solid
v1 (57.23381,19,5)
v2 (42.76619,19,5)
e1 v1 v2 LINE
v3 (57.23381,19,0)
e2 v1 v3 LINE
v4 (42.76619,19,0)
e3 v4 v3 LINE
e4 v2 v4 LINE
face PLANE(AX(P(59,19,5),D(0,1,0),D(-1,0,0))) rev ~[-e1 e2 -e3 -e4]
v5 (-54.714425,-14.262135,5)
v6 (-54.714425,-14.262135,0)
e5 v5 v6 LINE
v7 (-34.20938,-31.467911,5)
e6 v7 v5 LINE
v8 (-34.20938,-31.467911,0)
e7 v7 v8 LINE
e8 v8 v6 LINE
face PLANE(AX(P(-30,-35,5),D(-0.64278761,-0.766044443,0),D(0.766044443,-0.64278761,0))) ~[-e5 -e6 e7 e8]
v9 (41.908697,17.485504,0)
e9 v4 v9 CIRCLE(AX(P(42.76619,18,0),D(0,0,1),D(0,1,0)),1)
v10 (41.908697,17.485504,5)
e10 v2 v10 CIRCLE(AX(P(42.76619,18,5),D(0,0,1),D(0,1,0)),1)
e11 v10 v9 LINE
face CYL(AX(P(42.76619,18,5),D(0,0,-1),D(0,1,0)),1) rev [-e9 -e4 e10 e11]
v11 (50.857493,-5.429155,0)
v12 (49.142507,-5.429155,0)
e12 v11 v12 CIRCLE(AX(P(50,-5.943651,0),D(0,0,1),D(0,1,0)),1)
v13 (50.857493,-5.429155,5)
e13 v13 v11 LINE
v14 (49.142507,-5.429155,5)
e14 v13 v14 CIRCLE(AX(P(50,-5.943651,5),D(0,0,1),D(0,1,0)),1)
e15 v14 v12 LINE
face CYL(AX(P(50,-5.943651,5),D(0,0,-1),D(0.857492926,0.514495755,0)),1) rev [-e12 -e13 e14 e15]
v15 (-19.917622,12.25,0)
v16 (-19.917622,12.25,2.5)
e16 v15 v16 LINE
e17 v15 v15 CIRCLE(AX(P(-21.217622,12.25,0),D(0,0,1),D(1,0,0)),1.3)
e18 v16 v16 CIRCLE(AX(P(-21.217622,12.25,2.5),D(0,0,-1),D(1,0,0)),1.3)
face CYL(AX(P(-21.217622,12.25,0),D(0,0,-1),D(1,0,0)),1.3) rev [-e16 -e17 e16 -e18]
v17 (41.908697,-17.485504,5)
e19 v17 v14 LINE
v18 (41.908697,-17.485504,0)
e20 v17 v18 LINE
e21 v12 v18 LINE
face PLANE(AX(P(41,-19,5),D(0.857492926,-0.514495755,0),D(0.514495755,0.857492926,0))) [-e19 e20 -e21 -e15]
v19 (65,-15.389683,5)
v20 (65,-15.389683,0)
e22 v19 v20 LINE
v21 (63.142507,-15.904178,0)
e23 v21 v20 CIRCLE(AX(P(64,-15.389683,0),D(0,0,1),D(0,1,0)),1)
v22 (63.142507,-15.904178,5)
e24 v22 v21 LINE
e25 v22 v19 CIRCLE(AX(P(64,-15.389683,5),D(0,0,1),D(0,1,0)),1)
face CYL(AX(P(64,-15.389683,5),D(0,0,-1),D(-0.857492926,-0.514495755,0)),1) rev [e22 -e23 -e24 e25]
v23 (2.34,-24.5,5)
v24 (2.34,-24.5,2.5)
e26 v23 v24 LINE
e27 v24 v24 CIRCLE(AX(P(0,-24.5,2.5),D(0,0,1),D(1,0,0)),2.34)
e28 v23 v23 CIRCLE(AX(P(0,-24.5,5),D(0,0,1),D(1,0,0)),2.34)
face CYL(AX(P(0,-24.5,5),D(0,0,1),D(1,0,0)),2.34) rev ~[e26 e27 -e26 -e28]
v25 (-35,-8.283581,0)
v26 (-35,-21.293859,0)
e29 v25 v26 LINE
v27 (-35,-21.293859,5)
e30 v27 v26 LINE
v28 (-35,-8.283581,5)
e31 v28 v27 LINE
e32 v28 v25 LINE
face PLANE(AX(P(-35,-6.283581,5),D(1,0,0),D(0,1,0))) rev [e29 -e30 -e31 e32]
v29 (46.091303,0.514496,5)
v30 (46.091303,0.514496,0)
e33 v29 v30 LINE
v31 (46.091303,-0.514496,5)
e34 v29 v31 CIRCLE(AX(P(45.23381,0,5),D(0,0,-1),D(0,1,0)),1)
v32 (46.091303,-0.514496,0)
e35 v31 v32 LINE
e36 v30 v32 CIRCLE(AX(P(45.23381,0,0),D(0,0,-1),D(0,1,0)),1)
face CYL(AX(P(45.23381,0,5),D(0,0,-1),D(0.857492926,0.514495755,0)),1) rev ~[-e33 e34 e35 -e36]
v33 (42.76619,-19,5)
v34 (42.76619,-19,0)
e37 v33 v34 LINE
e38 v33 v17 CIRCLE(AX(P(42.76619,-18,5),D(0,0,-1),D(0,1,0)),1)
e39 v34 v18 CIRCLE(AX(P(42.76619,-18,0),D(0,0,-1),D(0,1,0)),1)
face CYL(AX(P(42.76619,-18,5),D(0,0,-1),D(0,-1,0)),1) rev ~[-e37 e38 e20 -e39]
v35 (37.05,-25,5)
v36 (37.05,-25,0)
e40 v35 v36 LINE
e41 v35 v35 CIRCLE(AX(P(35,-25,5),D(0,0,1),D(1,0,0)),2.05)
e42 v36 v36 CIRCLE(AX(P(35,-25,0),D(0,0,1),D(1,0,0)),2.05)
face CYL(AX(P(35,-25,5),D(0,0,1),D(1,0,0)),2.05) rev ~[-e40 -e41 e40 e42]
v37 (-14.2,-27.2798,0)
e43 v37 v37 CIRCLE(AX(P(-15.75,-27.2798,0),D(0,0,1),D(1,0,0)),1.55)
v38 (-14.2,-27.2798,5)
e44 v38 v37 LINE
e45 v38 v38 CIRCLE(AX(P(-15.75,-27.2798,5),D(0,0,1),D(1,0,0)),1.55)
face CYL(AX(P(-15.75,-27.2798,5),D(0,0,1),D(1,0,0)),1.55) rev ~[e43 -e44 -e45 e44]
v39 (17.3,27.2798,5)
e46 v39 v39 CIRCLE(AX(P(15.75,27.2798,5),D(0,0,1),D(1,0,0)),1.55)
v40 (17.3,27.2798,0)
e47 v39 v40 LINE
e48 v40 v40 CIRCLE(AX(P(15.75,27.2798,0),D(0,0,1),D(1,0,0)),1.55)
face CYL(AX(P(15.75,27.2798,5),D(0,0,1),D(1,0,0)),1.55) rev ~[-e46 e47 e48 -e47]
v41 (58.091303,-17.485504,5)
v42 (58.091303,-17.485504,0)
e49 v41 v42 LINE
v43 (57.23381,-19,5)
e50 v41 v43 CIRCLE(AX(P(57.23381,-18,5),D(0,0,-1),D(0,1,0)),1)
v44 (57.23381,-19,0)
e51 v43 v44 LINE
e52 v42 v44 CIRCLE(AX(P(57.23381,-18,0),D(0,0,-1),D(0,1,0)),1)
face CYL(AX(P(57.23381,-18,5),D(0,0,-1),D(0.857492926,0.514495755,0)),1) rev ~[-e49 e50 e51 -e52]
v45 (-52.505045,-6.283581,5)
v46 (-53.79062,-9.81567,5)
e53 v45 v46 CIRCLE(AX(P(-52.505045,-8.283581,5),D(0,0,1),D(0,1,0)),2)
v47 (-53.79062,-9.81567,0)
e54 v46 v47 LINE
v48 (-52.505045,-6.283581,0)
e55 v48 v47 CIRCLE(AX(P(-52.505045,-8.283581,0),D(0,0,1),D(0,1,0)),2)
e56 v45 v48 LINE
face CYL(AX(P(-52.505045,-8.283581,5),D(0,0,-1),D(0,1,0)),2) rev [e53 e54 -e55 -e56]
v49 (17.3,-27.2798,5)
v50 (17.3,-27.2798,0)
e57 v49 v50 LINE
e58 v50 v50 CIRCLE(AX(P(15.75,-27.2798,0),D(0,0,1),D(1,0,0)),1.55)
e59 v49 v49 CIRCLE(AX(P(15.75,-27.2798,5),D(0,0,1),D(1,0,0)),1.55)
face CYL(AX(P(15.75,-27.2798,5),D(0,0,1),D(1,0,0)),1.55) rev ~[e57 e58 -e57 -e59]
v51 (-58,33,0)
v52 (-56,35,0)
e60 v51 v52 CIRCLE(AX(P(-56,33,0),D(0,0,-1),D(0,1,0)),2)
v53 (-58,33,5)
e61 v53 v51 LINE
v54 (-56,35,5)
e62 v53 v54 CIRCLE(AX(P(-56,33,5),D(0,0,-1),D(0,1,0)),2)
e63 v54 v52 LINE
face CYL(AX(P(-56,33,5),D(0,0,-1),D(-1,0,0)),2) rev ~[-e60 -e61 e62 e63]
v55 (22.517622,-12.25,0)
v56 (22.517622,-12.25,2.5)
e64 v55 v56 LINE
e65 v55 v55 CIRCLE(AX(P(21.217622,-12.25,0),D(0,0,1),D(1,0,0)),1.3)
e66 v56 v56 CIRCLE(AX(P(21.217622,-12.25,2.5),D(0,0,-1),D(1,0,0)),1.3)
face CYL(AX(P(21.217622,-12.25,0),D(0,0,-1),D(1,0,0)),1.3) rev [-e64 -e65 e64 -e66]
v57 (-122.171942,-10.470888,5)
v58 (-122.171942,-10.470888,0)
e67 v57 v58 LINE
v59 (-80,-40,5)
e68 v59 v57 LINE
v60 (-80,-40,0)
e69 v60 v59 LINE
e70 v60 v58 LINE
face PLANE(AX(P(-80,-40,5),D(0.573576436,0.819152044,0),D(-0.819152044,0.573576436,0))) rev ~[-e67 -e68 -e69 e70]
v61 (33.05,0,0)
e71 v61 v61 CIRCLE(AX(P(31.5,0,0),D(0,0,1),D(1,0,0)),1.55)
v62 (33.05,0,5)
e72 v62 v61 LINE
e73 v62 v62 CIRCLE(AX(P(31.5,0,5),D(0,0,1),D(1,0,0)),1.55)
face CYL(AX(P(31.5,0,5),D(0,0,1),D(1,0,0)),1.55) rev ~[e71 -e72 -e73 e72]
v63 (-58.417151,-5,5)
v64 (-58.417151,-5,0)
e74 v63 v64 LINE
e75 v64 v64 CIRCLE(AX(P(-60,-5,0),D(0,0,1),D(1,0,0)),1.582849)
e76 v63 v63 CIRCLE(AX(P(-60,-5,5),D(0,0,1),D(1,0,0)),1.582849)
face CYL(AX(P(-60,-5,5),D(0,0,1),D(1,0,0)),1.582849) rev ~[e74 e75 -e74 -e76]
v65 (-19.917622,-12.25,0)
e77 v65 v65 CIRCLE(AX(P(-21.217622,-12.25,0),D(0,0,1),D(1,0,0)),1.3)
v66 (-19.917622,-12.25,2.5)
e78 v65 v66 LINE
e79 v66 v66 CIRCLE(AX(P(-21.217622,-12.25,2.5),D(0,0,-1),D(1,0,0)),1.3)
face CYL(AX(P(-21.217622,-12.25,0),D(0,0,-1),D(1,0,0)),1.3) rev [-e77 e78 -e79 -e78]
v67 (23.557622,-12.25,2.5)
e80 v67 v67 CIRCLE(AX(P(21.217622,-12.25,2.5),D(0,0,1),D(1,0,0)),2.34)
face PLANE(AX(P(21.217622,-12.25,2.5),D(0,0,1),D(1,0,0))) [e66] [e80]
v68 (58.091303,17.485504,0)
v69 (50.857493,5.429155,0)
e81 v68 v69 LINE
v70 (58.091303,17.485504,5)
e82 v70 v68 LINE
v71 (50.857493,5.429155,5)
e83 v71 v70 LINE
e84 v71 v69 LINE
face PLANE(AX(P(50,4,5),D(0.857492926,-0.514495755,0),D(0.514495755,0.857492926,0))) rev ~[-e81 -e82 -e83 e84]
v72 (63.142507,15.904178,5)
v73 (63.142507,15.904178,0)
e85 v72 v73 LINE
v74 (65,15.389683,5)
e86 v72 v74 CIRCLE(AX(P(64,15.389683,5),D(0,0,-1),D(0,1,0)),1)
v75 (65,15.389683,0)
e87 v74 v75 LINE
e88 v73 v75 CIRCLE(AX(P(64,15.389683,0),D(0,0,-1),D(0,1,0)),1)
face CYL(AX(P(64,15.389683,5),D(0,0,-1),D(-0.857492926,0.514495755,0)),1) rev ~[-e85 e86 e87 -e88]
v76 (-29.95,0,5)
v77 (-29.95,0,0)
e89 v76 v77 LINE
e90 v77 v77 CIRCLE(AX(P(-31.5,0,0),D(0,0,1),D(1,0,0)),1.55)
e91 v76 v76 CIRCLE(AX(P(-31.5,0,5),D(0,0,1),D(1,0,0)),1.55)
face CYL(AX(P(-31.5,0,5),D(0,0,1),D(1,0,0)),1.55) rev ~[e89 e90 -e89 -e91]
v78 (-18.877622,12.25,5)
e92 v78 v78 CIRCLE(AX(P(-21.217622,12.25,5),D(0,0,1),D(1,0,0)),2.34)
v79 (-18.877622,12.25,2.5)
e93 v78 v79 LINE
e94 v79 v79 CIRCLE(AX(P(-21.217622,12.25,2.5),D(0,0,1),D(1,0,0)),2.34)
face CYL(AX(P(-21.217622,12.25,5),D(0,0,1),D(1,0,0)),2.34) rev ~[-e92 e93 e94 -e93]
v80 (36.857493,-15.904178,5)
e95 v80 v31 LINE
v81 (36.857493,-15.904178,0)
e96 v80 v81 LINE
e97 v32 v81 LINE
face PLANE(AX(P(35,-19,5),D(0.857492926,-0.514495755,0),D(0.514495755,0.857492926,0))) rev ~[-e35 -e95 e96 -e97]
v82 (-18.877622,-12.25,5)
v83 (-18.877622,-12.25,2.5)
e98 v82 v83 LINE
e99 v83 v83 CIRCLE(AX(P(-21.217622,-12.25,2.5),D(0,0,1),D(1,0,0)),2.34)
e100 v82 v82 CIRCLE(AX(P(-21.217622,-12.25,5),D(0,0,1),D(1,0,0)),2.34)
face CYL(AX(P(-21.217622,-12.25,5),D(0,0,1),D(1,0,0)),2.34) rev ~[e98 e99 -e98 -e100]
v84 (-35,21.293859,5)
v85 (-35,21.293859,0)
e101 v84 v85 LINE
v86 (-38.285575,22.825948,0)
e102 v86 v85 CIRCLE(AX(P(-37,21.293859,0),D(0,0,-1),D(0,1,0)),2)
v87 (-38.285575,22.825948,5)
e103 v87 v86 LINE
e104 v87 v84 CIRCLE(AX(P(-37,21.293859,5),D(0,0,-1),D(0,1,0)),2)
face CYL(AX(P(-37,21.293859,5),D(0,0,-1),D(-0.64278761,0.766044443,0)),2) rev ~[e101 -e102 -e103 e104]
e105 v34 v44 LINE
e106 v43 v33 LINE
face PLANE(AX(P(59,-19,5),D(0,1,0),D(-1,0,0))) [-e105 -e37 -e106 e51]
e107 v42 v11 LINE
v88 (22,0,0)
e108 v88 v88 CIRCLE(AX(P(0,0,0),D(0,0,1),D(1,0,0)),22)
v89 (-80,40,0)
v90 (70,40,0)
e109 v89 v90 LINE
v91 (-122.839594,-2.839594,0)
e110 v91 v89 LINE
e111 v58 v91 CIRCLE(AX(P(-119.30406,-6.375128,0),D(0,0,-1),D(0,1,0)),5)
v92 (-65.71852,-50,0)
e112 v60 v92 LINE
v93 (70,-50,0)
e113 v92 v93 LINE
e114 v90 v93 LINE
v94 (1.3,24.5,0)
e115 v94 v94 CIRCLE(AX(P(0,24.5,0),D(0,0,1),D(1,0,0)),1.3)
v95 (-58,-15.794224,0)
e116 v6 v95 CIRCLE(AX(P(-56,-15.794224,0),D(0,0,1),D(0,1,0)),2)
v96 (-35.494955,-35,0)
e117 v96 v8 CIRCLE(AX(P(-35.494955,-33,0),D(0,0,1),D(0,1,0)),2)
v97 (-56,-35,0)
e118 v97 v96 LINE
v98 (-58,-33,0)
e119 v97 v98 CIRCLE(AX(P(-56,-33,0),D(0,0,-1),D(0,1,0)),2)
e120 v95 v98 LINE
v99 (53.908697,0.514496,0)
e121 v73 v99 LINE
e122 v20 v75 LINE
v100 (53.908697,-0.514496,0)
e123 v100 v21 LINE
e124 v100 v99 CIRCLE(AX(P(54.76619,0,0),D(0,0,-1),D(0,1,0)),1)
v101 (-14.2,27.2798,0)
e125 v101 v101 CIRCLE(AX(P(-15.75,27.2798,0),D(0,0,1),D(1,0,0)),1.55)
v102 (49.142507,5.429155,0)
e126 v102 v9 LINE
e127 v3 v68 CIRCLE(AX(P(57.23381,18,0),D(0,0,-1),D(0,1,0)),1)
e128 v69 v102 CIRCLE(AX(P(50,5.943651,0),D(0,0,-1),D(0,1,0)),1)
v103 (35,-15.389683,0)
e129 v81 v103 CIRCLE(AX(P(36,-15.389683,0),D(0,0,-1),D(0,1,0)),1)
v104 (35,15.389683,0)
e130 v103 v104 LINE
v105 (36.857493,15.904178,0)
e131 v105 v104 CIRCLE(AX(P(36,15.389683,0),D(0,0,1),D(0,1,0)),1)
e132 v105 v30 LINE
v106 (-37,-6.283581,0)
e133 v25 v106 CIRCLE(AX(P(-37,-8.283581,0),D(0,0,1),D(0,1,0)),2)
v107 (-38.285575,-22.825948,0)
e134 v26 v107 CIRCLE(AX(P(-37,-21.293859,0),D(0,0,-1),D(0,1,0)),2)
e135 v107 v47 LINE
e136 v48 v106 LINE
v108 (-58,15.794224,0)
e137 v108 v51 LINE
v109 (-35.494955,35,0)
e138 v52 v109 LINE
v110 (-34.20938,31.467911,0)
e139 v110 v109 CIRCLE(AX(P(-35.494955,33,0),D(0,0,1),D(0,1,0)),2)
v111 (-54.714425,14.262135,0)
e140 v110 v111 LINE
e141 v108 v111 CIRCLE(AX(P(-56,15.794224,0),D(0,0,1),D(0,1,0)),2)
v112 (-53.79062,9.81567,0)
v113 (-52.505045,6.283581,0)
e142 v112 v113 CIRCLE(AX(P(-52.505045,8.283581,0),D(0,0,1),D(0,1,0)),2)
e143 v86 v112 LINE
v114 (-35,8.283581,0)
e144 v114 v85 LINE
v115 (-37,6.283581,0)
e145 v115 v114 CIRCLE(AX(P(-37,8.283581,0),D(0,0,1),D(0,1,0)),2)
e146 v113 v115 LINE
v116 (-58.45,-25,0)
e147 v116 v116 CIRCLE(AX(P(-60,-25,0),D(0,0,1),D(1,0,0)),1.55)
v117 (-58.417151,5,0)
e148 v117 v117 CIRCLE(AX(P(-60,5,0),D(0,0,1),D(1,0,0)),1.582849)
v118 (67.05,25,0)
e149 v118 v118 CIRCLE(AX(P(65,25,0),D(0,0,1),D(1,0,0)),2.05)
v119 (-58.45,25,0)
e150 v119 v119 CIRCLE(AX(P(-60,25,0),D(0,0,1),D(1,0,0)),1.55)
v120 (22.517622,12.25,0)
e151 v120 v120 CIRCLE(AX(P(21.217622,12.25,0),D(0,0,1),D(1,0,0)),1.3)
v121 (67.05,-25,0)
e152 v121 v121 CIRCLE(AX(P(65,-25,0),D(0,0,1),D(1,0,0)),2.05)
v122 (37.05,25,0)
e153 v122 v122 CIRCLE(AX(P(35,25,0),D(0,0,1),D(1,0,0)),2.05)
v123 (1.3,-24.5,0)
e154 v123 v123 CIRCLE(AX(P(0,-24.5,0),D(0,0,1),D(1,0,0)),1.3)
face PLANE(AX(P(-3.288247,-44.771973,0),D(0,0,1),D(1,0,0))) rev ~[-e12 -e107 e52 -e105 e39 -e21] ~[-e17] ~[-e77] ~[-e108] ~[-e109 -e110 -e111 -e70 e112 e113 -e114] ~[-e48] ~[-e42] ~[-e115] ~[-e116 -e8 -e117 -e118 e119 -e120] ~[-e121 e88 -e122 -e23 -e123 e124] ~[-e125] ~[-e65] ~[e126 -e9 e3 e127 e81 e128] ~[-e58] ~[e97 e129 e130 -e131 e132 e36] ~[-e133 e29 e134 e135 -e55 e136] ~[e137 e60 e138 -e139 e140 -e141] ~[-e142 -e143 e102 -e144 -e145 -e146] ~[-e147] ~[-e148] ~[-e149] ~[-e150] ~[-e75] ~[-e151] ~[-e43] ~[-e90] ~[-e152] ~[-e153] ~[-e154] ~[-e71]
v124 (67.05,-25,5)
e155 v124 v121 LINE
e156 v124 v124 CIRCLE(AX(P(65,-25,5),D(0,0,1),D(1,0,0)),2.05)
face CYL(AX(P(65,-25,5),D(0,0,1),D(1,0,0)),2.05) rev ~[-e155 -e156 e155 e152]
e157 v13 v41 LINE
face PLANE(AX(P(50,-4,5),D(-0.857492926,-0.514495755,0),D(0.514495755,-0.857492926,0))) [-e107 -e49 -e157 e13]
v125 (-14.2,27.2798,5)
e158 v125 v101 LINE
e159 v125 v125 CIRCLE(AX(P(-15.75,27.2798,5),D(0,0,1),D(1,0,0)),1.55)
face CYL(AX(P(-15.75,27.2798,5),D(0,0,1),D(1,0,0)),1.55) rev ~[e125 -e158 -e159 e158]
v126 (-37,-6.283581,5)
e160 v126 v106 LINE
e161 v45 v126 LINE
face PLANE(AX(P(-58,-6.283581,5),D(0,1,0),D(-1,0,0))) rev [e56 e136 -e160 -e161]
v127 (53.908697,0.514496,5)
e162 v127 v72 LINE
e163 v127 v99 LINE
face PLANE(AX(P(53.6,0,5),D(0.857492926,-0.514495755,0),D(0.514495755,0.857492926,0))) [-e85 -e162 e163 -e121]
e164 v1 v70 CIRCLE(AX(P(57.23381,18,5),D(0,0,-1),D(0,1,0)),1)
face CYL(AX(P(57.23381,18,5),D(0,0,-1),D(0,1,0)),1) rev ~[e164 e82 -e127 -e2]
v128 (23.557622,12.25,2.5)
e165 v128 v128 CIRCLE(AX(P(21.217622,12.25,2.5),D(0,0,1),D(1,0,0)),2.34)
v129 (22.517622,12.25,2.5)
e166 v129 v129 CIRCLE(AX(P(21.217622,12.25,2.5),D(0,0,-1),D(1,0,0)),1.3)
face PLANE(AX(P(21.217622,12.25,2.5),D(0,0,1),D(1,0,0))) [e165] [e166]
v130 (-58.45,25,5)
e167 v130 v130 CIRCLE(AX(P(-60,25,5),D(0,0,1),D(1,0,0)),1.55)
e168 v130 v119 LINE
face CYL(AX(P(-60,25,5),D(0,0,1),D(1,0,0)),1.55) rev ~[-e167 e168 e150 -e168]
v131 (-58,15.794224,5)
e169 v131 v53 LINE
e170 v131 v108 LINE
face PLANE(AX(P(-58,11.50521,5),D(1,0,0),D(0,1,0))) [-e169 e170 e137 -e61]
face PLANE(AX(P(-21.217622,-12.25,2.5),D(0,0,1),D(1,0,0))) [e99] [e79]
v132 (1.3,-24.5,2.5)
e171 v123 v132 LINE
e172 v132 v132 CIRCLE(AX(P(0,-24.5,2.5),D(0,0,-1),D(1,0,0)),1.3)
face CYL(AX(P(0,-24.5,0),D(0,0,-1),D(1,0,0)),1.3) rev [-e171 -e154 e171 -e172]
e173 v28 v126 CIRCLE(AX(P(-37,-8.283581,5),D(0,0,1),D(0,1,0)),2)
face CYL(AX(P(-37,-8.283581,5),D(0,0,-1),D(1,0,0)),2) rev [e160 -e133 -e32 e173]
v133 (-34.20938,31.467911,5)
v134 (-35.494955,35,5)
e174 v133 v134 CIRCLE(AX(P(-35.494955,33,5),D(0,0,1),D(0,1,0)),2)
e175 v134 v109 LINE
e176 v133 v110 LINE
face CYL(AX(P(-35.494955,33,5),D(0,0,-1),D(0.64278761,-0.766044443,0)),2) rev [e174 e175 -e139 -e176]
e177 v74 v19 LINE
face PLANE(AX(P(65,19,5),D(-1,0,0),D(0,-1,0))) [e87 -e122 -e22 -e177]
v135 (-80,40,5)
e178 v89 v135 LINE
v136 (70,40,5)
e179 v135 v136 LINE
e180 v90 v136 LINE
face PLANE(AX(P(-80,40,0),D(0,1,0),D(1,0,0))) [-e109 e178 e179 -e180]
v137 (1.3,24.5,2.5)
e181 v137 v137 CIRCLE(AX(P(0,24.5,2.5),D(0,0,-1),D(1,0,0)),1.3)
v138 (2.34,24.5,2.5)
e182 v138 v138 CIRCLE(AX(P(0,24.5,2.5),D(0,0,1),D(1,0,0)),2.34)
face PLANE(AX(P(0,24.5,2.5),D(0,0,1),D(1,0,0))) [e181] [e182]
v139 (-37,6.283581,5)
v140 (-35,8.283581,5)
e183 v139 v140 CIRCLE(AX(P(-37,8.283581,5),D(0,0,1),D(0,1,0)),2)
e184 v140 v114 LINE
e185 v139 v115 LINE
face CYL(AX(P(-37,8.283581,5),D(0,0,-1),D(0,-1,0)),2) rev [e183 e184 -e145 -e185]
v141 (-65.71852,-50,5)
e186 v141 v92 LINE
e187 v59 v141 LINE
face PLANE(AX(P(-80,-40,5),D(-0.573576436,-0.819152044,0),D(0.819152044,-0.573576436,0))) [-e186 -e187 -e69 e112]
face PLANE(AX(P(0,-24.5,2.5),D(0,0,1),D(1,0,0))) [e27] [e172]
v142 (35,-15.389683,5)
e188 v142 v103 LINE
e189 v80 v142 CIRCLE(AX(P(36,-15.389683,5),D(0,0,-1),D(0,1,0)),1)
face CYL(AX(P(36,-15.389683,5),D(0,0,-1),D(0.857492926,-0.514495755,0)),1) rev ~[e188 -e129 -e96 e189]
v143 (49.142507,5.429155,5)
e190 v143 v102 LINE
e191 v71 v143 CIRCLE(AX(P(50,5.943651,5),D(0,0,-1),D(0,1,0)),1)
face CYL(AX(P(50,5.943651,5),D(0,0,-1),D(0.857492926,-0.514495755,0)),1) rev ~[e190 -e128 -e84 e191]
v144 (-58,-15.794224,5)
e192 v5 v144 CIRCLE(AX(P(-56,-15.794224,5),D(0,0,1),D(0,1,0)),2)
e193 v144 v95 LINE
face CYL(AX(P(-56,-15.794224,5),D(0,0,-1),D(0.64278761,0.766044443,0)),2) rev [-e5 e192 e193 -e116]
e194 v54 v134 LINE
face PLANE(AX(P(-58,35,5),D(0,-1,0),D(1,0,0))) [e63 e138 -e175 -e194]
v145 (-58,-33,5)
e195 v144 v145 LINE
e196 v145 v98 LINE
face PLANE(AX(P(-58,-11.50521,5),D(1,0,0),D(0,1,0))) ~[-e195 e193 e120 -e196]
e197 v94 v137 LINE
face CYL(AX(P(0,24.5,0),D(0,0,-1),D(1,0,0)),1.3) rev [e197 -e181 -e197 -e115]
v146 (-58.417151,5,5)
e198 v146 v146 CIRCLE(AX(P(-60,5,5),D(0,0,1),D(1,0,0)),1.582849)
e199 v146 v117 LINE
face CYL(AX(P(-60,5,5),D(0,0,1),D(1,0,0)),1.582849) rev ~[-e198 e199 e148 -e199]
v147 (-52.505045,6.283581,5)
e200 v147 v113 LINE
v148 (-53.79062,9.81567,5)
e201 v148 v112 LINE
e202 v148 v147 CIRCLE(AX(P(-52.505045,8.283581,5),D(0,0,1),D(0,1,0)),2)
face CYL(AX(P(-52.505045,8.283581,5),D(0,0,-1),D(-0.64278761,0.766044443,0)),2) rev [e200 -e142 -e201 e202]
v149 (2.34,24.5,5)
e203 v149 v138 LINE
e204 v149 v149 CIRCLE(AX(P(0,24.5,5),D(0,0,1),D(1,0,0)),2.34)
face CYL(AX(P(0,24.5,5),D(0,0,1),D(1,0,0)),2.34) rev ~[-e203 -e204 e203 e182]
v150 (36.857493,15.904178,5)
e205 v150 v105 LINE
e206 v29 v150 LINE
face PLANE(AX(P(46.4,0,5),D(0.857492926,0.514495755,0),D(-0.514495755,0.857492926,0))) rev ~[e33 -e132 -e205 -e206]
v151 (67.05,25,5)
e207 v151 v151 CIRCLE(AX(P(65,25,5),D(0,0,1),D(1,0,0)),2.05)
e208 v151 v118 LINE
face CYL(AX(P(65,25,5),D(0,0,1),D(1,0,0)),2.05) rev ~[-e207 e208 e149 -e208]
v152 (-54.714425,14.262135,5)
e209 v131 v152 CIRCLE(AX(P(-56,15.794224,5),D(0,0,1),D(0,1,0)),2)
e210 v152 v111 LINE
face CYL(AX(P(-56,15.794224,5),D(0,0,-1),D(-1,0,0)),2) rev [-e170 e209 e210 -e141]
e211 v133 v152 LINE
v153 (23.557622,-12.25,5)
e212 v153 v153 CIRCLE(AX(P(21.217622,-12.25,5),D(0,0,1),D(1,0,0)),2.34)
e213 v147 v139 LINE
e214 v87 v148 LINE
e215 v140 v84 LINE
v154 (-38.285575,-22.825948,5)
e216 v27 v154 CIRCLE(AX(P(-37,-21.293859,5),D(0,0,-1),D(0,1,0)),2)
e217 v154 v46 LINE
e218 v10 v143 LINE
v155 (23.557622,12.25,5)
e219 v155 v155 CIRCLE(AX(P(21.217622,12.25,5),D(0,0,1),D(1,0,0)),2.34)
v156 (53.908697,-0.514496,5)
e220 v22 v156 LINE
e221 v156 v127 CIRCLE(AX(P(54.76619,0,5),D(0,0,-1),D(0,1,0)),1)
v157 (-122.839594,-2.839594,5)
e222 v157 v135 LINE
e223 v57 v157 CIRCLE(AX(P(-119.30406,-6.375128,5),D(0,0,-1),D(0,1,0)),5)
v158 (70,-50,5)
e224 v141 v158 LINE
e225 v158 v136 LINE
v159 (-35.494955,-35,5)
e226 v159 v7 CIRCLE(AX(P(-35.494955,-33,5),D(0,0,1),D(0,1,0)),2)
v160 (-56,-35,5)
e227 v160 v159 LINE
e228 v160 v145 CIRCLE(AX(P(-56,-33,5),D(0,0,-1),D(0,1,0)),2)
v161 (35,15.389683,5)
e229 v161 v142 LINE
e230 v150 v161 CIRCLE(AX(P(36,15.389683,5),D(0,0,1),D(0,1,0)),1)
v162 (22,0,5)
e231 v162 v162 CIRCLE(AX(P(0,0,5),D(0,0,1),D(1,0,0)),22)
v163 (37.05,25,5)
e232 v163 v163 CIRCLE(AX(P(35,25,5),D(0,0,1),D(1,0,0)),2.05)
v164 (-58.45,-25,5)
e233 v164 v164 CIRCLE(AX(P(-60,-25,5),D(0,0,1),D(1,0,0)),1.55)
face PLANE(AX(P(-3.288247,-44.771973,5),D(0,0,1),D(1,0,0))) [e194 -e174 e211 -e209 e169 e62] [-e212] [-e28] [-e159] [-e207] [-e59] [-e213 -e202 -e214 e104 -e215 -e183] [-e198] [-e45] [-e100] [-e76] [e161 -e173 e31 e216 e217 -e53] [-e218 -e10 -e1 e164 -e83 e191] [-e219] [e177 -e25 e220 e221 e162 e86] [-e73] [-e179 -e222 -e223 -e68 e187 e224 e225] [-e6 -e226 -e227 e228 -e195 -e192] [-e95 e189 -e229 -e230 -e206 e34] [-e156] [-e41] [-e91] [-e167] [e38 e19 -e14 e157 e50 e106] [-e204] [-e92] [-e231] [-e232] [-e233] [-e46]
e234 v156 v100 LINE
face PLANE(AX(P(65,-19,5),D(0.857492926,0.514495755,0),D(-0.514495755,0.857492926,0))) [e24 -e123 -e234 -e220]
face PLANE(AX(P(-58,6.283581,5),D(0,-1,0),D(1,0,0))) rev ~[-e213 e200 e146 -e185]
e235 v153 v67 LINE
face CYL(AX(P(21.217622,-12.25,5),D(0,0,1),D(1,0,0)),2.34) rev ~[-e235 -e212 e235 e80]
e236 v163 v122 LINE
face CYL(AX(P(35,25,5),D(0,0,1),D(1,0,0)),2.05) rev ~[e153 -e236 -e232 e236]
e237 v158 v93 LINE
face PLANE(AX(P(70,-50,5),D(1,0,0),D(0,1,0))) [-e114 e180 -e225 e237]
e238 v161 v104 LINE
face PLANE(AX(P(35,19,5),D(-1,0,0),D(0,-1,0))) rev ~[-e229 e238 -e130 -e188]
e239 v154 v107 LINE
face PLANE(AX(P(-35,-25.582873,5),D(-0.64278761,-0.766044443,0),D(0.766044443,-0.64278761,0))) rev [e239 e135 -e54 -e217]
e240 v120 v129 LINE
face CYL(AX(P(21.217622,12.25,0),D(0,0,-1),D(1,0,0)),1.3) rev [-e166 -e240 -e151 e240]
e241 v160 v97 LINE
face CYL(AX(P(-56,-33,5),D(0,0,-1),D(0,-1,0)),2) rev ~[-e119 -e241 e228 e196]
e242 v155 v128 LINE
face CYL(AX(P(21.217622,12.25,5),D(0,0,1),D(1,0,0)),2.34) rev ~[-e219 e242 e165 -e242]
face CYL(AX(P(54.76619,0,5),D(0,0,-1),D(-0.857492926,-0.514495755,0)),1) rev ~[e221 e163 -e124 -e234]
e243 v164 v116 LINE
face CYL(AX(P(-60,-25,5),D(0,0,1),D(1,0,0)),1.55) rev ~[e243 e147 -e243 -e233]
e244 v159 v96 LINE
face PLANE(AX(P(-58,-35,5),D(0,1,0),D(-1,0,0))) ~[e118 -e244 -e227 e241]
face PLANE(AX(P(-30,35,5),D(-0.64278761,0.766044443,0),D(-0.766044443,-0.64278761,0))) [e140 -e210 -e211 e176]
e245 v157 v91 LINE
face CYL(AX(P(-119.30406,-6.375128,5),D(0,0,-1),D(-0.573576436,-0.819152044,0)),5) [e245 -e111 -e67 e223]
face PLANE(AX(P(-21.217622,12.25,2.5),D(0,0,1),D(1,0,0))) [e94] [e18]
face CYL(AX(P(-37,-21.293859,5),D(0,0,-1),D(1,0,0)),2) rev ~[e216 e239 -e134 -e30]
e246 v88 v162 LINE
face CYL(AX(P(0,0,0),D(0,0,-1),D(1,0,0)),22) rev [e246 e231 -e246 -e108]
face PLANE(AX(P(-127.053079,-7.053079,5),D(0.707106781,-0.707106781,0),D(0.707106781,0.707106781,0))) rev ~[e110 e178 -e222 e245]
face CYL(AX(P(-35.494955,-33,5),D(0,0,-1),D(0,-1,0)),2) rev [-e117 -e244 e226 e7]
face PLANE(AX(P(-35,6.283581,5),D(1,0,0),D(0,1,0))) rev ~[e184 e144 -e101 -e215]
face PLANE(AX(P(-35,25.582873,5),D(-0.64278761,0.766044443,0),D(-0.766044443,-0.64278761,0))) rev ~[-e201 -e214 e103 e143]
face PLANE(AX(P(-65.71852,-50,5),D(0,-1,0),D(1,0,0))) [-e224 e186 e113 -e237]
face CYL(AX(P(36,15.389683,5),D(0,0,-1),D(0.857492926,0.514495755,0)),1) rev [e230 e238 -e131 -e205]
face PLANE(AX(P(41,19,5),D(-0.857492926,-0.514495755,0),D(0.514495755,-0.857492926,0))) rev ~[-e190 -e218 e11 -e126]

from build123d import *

# Parameters (mm, degrees)
SKETCH_1_W             = 150
SKETCH_1_H             = 80
SKETCH_1_R             = 1.3
SKETCH_1_R_2           = 22
EXTRUDE_1_DEPTH        = 5
SKETCH_2_R             = 2.34
CUT_EXTRUDE_1_DEPTH    = 2.5
SKETCH_3_R             = 1.55
SKETCH_3_R_2           = 1.582849294
CUT_EXTRUDE_3_DEPTH    = 12.5
CUT_EXTRUDE_5_DEPTH    = 8
FILLET_3_R             = 2
FILLET_3_OF_MIRROR_2_R = 2
EXTRUDE_4_DEPTH        = 5
FILLET_5_R             = 5
SKETCH_11_R            = 1.55
CUT_EXTRUDE_7_DEPTH    = 25
SKETCH_12_R            = 2.05
CUT_EXTRUDE_8_DEPTH    = 10
CUT_EXTRUDE_9_DEPTH    = 10
FILLET_6_R             = 1
EXTRUDE_5_DEPTH        = 5


with BuildPart() as part:
    # 草图1 → 凸台-拉伸1 (new body)
    with BuildSketch(Plane.XY):
        with Locations((-5, 0)):
            Rectangle(SKETCH_1_W, SKETCH_1_H)
        with Locations((0, -24.5)):
            Circle(SKETCH_1_R, mode=Mode.SUBTRACT)
        with Locations((-21.217622393, -12.25)):
            Circle(SKETCH_1_R, mode=Mode.SUBTRACT)
        with Locations((-21.217622393, 12.25)):
            Circle(SKETCH_1_R, mode=Mode.SUBTRACT)
        Circle(SKETCH_1_R_2, mode=Mode.SUBTRACT)
        with Locations((0, 24.5)):
            Circle(SKETCH_1_R, mode=Mode.SUBTRACT)
        with Locations((21.217622393, 12.25)):
            Circle(SKETCH_1_R, mode=Mode.SUBTRACT)
        with Locations((21.217622393, -12.25)):
            Circle(SKETCH_1_R, mode=Mode.SUBTRACT)
    extrude(amount=EXTRUDE_1_DEPTH)

    # 草图2 → 切除-拉伸1 (cut)
    with BuildSketch(Plane.XY.offset(5)):
        with Locations((-21.217622393, 12.25)):
            Circle(SKETCH_2_R)
        with Locations((0, 24.5)):
            Circle(SKETCH_2_R)
        with Locations((21.217622393, 12.25)):
            Circle(SKETCH_2_R)
        with Locations((21.217622393, -12.25)):
            Circle(SKETCH_2_R)
        with Locations((0, -24.5)):
            Circle(SKETCH_2_R)
        with Locations((-21.217622393, -12.25)):
            Circle(SKETCH_2_R)
    extrude(amount=-CUT_EXTRUDE_1_DEPTH, mode=Mode.SUBTRACT)

    # 草图3 → 切除-拉伸3 (cut)
    with BuildSketch(Plane.XY.offset(5)):
        with Locations((-60, -25)):
            Circle(SKETCH_3_R)
        with Locations((-60, -5)):
            Circle(SKETCH_3_R_2)
        with Locations((-60, 25)):
            Circle(SKETCH_3_R)
        with Locations((-60, 5)):
            Circle(SKETCH_3_R_2)
    extrude(amount=-CUT_EXTRUDE_3_DEPTH, mode=Mode.SUBTRACT)

    # 草图4 → 切除-拉伸5 (cut)
    with BuildSketch(Plane.XY.offset(5)):
        Polygon((-58, 35), (-30, 35), (-58, 11.505210327), align=None)
        Polygon((-35, 25.582872687), (-58, 6.28358117), (-35, 6.28358117), align=None)
    cut_extrude_5 = extrude(amount=-CUT_EXTRUDE_5_DEPTH, mode=Mode.SUBTRACT)

    # 圆角3
    fillet_3_edges = [part.edges().sort_by_distance(p)[0] for p in [
        (-35, 6.28358117, 2.5),
        (-58, 6.28358117, 2.5),
        (-35, 25.582872687, 2.5),
        (-30, 35, 2.5),
        (-58, 11.505210327, 2.5),
        (-58, 35, 2.5),
    ]]
    fillet(fillet_3_edges, radius=FILLET_3_R)

    # 镜向2: 切除-拉伸5 across plane
    add(cut_extrude_5.mirror(Plane.ZX), mode=Mode.SUBTRACT)

    # 圆角3 of 镜向2
    fillet_3_of_mirror_2_edges = [part.edges().sort_by_distance(p)[0] for p in [
        (-35, -6.28358117, 2.5),
        (-58, -6.28358117, 2.5),
        (-35, -25.582872687, 2.5),
        (-30, -35, 2.5),
        (-58, -11.505210327, 2.5),
        (-58, -35, 2.5),
    ]]
    fillet(fillet_3_of_mirror_2_edges, radius=FILLET_3_OF_MIRROR_2_R)

    # 草图10 → 凸台-拉伸4 (add)
    with BuildSketch(Plane.XY.offset(5)):
        Polygon((-80, -40), (-127.053079228, -7.053079228), (-80, 40), align=None)
    extrude(amount=-EXTRUDE_4_DEPTH)

    # 圆角5
    fillet_5_edges = [part.edges().sort_by_distance(p)[0] for p in [
        (-127.053079228, -7.053079228, 2.5),
    ]]
    fillet(fillet_5_edges, radius=FILLET_5_R)

    # 草图11 → 切除-拉伸7 (cut)
    with BuildSketch(Plane.XY.offset(5)):
        with Locations((-15.75, 27.279800219)):
            Circle(SKETCH_11_R)
        with Locations((15.75, 27.279800219)):
            Circle(SKETCH_11_R)
        with Locations((31.5, 0)):
            Circle(SKETCH_11_R)
        with Locations((15.75, -27.279800219)):
            Circle(SKETCH_11_R)
        with Locations((-15.75, -27.279800219)):
            Circle(SKETCH_11_R)
        with Locations((-31.5, 0)):
            Circle(SKETCH_11_R)
    extrude(amount=-CUT_EXTRUDE_7_DEPTH, mode=Mode.SUBTRACT)

    # 草图12 → 切除-拉伸8 (cut)
    with BuildSketch(Plane.XY.offset(5)):
        with Locations((35, 25)):
            Circle(SKETCH_12_R)
        with Locations((65, 25)):
            Circle(SKETCH_12_R)
        with Locations((65, -25)):
            Circle(SKETCH_12_R)
        with Locations((35, -25)):
            Circle(SKETCH_12_R)
    extrude(amount=-CUT_EXTRUDE_8_DEPTH, mode=Mode.SUBTRACT)

    # 草图13 → 切除-拉伸9 (cut)
    with BuildSketch(Plane.XY.offset(5)):
        Polygon((35, 19), (35, -19), (46.4, 0), align=None)
        Polygon((65, -19), (53.6, 0), (65, 19), align=None)
        Polygon((41, 19), (50, 4), (59, 19), align=None)
        Polygon((50, -4), (59, -19), (41, -19), align=None)
    extrude(amount=-CUT_EXTRUDE_9_DEPTH, mode=Mode.SUBTRACT)

    # 圆角6
    fillet_6_edges = [part.edges().sort_by_distance(p)[0] for p in [
        (41, 19, 2.5),
        (59, 19, 2.5),
        (50, 4, 2.5),
        (65, 19, 2.5),
        (65, -19, 2.5),
        (53.6, 0, 2.5),
        (41, -19, 2.5),
        (50, -4, 2.5),
        (59, -19, 2.5),
        (35, 19, 2.5),
        (46.4, 0, 2.5),
        (35, -19, 2.5),
    ]]
    fillet(fillet_6_edges, radius=FILLET_6_R)

    # 草图14 → 凸台-拉伸5 (add)
    with BuildSketch(Plane.XY.offset(5)):
        Polygon((-80, -40), (-65.718519933, -50), (70, -50), (70, -40), align=None)
    extrude(amount=-EXTRUDE_5_DEPTH)


solid = part.part
